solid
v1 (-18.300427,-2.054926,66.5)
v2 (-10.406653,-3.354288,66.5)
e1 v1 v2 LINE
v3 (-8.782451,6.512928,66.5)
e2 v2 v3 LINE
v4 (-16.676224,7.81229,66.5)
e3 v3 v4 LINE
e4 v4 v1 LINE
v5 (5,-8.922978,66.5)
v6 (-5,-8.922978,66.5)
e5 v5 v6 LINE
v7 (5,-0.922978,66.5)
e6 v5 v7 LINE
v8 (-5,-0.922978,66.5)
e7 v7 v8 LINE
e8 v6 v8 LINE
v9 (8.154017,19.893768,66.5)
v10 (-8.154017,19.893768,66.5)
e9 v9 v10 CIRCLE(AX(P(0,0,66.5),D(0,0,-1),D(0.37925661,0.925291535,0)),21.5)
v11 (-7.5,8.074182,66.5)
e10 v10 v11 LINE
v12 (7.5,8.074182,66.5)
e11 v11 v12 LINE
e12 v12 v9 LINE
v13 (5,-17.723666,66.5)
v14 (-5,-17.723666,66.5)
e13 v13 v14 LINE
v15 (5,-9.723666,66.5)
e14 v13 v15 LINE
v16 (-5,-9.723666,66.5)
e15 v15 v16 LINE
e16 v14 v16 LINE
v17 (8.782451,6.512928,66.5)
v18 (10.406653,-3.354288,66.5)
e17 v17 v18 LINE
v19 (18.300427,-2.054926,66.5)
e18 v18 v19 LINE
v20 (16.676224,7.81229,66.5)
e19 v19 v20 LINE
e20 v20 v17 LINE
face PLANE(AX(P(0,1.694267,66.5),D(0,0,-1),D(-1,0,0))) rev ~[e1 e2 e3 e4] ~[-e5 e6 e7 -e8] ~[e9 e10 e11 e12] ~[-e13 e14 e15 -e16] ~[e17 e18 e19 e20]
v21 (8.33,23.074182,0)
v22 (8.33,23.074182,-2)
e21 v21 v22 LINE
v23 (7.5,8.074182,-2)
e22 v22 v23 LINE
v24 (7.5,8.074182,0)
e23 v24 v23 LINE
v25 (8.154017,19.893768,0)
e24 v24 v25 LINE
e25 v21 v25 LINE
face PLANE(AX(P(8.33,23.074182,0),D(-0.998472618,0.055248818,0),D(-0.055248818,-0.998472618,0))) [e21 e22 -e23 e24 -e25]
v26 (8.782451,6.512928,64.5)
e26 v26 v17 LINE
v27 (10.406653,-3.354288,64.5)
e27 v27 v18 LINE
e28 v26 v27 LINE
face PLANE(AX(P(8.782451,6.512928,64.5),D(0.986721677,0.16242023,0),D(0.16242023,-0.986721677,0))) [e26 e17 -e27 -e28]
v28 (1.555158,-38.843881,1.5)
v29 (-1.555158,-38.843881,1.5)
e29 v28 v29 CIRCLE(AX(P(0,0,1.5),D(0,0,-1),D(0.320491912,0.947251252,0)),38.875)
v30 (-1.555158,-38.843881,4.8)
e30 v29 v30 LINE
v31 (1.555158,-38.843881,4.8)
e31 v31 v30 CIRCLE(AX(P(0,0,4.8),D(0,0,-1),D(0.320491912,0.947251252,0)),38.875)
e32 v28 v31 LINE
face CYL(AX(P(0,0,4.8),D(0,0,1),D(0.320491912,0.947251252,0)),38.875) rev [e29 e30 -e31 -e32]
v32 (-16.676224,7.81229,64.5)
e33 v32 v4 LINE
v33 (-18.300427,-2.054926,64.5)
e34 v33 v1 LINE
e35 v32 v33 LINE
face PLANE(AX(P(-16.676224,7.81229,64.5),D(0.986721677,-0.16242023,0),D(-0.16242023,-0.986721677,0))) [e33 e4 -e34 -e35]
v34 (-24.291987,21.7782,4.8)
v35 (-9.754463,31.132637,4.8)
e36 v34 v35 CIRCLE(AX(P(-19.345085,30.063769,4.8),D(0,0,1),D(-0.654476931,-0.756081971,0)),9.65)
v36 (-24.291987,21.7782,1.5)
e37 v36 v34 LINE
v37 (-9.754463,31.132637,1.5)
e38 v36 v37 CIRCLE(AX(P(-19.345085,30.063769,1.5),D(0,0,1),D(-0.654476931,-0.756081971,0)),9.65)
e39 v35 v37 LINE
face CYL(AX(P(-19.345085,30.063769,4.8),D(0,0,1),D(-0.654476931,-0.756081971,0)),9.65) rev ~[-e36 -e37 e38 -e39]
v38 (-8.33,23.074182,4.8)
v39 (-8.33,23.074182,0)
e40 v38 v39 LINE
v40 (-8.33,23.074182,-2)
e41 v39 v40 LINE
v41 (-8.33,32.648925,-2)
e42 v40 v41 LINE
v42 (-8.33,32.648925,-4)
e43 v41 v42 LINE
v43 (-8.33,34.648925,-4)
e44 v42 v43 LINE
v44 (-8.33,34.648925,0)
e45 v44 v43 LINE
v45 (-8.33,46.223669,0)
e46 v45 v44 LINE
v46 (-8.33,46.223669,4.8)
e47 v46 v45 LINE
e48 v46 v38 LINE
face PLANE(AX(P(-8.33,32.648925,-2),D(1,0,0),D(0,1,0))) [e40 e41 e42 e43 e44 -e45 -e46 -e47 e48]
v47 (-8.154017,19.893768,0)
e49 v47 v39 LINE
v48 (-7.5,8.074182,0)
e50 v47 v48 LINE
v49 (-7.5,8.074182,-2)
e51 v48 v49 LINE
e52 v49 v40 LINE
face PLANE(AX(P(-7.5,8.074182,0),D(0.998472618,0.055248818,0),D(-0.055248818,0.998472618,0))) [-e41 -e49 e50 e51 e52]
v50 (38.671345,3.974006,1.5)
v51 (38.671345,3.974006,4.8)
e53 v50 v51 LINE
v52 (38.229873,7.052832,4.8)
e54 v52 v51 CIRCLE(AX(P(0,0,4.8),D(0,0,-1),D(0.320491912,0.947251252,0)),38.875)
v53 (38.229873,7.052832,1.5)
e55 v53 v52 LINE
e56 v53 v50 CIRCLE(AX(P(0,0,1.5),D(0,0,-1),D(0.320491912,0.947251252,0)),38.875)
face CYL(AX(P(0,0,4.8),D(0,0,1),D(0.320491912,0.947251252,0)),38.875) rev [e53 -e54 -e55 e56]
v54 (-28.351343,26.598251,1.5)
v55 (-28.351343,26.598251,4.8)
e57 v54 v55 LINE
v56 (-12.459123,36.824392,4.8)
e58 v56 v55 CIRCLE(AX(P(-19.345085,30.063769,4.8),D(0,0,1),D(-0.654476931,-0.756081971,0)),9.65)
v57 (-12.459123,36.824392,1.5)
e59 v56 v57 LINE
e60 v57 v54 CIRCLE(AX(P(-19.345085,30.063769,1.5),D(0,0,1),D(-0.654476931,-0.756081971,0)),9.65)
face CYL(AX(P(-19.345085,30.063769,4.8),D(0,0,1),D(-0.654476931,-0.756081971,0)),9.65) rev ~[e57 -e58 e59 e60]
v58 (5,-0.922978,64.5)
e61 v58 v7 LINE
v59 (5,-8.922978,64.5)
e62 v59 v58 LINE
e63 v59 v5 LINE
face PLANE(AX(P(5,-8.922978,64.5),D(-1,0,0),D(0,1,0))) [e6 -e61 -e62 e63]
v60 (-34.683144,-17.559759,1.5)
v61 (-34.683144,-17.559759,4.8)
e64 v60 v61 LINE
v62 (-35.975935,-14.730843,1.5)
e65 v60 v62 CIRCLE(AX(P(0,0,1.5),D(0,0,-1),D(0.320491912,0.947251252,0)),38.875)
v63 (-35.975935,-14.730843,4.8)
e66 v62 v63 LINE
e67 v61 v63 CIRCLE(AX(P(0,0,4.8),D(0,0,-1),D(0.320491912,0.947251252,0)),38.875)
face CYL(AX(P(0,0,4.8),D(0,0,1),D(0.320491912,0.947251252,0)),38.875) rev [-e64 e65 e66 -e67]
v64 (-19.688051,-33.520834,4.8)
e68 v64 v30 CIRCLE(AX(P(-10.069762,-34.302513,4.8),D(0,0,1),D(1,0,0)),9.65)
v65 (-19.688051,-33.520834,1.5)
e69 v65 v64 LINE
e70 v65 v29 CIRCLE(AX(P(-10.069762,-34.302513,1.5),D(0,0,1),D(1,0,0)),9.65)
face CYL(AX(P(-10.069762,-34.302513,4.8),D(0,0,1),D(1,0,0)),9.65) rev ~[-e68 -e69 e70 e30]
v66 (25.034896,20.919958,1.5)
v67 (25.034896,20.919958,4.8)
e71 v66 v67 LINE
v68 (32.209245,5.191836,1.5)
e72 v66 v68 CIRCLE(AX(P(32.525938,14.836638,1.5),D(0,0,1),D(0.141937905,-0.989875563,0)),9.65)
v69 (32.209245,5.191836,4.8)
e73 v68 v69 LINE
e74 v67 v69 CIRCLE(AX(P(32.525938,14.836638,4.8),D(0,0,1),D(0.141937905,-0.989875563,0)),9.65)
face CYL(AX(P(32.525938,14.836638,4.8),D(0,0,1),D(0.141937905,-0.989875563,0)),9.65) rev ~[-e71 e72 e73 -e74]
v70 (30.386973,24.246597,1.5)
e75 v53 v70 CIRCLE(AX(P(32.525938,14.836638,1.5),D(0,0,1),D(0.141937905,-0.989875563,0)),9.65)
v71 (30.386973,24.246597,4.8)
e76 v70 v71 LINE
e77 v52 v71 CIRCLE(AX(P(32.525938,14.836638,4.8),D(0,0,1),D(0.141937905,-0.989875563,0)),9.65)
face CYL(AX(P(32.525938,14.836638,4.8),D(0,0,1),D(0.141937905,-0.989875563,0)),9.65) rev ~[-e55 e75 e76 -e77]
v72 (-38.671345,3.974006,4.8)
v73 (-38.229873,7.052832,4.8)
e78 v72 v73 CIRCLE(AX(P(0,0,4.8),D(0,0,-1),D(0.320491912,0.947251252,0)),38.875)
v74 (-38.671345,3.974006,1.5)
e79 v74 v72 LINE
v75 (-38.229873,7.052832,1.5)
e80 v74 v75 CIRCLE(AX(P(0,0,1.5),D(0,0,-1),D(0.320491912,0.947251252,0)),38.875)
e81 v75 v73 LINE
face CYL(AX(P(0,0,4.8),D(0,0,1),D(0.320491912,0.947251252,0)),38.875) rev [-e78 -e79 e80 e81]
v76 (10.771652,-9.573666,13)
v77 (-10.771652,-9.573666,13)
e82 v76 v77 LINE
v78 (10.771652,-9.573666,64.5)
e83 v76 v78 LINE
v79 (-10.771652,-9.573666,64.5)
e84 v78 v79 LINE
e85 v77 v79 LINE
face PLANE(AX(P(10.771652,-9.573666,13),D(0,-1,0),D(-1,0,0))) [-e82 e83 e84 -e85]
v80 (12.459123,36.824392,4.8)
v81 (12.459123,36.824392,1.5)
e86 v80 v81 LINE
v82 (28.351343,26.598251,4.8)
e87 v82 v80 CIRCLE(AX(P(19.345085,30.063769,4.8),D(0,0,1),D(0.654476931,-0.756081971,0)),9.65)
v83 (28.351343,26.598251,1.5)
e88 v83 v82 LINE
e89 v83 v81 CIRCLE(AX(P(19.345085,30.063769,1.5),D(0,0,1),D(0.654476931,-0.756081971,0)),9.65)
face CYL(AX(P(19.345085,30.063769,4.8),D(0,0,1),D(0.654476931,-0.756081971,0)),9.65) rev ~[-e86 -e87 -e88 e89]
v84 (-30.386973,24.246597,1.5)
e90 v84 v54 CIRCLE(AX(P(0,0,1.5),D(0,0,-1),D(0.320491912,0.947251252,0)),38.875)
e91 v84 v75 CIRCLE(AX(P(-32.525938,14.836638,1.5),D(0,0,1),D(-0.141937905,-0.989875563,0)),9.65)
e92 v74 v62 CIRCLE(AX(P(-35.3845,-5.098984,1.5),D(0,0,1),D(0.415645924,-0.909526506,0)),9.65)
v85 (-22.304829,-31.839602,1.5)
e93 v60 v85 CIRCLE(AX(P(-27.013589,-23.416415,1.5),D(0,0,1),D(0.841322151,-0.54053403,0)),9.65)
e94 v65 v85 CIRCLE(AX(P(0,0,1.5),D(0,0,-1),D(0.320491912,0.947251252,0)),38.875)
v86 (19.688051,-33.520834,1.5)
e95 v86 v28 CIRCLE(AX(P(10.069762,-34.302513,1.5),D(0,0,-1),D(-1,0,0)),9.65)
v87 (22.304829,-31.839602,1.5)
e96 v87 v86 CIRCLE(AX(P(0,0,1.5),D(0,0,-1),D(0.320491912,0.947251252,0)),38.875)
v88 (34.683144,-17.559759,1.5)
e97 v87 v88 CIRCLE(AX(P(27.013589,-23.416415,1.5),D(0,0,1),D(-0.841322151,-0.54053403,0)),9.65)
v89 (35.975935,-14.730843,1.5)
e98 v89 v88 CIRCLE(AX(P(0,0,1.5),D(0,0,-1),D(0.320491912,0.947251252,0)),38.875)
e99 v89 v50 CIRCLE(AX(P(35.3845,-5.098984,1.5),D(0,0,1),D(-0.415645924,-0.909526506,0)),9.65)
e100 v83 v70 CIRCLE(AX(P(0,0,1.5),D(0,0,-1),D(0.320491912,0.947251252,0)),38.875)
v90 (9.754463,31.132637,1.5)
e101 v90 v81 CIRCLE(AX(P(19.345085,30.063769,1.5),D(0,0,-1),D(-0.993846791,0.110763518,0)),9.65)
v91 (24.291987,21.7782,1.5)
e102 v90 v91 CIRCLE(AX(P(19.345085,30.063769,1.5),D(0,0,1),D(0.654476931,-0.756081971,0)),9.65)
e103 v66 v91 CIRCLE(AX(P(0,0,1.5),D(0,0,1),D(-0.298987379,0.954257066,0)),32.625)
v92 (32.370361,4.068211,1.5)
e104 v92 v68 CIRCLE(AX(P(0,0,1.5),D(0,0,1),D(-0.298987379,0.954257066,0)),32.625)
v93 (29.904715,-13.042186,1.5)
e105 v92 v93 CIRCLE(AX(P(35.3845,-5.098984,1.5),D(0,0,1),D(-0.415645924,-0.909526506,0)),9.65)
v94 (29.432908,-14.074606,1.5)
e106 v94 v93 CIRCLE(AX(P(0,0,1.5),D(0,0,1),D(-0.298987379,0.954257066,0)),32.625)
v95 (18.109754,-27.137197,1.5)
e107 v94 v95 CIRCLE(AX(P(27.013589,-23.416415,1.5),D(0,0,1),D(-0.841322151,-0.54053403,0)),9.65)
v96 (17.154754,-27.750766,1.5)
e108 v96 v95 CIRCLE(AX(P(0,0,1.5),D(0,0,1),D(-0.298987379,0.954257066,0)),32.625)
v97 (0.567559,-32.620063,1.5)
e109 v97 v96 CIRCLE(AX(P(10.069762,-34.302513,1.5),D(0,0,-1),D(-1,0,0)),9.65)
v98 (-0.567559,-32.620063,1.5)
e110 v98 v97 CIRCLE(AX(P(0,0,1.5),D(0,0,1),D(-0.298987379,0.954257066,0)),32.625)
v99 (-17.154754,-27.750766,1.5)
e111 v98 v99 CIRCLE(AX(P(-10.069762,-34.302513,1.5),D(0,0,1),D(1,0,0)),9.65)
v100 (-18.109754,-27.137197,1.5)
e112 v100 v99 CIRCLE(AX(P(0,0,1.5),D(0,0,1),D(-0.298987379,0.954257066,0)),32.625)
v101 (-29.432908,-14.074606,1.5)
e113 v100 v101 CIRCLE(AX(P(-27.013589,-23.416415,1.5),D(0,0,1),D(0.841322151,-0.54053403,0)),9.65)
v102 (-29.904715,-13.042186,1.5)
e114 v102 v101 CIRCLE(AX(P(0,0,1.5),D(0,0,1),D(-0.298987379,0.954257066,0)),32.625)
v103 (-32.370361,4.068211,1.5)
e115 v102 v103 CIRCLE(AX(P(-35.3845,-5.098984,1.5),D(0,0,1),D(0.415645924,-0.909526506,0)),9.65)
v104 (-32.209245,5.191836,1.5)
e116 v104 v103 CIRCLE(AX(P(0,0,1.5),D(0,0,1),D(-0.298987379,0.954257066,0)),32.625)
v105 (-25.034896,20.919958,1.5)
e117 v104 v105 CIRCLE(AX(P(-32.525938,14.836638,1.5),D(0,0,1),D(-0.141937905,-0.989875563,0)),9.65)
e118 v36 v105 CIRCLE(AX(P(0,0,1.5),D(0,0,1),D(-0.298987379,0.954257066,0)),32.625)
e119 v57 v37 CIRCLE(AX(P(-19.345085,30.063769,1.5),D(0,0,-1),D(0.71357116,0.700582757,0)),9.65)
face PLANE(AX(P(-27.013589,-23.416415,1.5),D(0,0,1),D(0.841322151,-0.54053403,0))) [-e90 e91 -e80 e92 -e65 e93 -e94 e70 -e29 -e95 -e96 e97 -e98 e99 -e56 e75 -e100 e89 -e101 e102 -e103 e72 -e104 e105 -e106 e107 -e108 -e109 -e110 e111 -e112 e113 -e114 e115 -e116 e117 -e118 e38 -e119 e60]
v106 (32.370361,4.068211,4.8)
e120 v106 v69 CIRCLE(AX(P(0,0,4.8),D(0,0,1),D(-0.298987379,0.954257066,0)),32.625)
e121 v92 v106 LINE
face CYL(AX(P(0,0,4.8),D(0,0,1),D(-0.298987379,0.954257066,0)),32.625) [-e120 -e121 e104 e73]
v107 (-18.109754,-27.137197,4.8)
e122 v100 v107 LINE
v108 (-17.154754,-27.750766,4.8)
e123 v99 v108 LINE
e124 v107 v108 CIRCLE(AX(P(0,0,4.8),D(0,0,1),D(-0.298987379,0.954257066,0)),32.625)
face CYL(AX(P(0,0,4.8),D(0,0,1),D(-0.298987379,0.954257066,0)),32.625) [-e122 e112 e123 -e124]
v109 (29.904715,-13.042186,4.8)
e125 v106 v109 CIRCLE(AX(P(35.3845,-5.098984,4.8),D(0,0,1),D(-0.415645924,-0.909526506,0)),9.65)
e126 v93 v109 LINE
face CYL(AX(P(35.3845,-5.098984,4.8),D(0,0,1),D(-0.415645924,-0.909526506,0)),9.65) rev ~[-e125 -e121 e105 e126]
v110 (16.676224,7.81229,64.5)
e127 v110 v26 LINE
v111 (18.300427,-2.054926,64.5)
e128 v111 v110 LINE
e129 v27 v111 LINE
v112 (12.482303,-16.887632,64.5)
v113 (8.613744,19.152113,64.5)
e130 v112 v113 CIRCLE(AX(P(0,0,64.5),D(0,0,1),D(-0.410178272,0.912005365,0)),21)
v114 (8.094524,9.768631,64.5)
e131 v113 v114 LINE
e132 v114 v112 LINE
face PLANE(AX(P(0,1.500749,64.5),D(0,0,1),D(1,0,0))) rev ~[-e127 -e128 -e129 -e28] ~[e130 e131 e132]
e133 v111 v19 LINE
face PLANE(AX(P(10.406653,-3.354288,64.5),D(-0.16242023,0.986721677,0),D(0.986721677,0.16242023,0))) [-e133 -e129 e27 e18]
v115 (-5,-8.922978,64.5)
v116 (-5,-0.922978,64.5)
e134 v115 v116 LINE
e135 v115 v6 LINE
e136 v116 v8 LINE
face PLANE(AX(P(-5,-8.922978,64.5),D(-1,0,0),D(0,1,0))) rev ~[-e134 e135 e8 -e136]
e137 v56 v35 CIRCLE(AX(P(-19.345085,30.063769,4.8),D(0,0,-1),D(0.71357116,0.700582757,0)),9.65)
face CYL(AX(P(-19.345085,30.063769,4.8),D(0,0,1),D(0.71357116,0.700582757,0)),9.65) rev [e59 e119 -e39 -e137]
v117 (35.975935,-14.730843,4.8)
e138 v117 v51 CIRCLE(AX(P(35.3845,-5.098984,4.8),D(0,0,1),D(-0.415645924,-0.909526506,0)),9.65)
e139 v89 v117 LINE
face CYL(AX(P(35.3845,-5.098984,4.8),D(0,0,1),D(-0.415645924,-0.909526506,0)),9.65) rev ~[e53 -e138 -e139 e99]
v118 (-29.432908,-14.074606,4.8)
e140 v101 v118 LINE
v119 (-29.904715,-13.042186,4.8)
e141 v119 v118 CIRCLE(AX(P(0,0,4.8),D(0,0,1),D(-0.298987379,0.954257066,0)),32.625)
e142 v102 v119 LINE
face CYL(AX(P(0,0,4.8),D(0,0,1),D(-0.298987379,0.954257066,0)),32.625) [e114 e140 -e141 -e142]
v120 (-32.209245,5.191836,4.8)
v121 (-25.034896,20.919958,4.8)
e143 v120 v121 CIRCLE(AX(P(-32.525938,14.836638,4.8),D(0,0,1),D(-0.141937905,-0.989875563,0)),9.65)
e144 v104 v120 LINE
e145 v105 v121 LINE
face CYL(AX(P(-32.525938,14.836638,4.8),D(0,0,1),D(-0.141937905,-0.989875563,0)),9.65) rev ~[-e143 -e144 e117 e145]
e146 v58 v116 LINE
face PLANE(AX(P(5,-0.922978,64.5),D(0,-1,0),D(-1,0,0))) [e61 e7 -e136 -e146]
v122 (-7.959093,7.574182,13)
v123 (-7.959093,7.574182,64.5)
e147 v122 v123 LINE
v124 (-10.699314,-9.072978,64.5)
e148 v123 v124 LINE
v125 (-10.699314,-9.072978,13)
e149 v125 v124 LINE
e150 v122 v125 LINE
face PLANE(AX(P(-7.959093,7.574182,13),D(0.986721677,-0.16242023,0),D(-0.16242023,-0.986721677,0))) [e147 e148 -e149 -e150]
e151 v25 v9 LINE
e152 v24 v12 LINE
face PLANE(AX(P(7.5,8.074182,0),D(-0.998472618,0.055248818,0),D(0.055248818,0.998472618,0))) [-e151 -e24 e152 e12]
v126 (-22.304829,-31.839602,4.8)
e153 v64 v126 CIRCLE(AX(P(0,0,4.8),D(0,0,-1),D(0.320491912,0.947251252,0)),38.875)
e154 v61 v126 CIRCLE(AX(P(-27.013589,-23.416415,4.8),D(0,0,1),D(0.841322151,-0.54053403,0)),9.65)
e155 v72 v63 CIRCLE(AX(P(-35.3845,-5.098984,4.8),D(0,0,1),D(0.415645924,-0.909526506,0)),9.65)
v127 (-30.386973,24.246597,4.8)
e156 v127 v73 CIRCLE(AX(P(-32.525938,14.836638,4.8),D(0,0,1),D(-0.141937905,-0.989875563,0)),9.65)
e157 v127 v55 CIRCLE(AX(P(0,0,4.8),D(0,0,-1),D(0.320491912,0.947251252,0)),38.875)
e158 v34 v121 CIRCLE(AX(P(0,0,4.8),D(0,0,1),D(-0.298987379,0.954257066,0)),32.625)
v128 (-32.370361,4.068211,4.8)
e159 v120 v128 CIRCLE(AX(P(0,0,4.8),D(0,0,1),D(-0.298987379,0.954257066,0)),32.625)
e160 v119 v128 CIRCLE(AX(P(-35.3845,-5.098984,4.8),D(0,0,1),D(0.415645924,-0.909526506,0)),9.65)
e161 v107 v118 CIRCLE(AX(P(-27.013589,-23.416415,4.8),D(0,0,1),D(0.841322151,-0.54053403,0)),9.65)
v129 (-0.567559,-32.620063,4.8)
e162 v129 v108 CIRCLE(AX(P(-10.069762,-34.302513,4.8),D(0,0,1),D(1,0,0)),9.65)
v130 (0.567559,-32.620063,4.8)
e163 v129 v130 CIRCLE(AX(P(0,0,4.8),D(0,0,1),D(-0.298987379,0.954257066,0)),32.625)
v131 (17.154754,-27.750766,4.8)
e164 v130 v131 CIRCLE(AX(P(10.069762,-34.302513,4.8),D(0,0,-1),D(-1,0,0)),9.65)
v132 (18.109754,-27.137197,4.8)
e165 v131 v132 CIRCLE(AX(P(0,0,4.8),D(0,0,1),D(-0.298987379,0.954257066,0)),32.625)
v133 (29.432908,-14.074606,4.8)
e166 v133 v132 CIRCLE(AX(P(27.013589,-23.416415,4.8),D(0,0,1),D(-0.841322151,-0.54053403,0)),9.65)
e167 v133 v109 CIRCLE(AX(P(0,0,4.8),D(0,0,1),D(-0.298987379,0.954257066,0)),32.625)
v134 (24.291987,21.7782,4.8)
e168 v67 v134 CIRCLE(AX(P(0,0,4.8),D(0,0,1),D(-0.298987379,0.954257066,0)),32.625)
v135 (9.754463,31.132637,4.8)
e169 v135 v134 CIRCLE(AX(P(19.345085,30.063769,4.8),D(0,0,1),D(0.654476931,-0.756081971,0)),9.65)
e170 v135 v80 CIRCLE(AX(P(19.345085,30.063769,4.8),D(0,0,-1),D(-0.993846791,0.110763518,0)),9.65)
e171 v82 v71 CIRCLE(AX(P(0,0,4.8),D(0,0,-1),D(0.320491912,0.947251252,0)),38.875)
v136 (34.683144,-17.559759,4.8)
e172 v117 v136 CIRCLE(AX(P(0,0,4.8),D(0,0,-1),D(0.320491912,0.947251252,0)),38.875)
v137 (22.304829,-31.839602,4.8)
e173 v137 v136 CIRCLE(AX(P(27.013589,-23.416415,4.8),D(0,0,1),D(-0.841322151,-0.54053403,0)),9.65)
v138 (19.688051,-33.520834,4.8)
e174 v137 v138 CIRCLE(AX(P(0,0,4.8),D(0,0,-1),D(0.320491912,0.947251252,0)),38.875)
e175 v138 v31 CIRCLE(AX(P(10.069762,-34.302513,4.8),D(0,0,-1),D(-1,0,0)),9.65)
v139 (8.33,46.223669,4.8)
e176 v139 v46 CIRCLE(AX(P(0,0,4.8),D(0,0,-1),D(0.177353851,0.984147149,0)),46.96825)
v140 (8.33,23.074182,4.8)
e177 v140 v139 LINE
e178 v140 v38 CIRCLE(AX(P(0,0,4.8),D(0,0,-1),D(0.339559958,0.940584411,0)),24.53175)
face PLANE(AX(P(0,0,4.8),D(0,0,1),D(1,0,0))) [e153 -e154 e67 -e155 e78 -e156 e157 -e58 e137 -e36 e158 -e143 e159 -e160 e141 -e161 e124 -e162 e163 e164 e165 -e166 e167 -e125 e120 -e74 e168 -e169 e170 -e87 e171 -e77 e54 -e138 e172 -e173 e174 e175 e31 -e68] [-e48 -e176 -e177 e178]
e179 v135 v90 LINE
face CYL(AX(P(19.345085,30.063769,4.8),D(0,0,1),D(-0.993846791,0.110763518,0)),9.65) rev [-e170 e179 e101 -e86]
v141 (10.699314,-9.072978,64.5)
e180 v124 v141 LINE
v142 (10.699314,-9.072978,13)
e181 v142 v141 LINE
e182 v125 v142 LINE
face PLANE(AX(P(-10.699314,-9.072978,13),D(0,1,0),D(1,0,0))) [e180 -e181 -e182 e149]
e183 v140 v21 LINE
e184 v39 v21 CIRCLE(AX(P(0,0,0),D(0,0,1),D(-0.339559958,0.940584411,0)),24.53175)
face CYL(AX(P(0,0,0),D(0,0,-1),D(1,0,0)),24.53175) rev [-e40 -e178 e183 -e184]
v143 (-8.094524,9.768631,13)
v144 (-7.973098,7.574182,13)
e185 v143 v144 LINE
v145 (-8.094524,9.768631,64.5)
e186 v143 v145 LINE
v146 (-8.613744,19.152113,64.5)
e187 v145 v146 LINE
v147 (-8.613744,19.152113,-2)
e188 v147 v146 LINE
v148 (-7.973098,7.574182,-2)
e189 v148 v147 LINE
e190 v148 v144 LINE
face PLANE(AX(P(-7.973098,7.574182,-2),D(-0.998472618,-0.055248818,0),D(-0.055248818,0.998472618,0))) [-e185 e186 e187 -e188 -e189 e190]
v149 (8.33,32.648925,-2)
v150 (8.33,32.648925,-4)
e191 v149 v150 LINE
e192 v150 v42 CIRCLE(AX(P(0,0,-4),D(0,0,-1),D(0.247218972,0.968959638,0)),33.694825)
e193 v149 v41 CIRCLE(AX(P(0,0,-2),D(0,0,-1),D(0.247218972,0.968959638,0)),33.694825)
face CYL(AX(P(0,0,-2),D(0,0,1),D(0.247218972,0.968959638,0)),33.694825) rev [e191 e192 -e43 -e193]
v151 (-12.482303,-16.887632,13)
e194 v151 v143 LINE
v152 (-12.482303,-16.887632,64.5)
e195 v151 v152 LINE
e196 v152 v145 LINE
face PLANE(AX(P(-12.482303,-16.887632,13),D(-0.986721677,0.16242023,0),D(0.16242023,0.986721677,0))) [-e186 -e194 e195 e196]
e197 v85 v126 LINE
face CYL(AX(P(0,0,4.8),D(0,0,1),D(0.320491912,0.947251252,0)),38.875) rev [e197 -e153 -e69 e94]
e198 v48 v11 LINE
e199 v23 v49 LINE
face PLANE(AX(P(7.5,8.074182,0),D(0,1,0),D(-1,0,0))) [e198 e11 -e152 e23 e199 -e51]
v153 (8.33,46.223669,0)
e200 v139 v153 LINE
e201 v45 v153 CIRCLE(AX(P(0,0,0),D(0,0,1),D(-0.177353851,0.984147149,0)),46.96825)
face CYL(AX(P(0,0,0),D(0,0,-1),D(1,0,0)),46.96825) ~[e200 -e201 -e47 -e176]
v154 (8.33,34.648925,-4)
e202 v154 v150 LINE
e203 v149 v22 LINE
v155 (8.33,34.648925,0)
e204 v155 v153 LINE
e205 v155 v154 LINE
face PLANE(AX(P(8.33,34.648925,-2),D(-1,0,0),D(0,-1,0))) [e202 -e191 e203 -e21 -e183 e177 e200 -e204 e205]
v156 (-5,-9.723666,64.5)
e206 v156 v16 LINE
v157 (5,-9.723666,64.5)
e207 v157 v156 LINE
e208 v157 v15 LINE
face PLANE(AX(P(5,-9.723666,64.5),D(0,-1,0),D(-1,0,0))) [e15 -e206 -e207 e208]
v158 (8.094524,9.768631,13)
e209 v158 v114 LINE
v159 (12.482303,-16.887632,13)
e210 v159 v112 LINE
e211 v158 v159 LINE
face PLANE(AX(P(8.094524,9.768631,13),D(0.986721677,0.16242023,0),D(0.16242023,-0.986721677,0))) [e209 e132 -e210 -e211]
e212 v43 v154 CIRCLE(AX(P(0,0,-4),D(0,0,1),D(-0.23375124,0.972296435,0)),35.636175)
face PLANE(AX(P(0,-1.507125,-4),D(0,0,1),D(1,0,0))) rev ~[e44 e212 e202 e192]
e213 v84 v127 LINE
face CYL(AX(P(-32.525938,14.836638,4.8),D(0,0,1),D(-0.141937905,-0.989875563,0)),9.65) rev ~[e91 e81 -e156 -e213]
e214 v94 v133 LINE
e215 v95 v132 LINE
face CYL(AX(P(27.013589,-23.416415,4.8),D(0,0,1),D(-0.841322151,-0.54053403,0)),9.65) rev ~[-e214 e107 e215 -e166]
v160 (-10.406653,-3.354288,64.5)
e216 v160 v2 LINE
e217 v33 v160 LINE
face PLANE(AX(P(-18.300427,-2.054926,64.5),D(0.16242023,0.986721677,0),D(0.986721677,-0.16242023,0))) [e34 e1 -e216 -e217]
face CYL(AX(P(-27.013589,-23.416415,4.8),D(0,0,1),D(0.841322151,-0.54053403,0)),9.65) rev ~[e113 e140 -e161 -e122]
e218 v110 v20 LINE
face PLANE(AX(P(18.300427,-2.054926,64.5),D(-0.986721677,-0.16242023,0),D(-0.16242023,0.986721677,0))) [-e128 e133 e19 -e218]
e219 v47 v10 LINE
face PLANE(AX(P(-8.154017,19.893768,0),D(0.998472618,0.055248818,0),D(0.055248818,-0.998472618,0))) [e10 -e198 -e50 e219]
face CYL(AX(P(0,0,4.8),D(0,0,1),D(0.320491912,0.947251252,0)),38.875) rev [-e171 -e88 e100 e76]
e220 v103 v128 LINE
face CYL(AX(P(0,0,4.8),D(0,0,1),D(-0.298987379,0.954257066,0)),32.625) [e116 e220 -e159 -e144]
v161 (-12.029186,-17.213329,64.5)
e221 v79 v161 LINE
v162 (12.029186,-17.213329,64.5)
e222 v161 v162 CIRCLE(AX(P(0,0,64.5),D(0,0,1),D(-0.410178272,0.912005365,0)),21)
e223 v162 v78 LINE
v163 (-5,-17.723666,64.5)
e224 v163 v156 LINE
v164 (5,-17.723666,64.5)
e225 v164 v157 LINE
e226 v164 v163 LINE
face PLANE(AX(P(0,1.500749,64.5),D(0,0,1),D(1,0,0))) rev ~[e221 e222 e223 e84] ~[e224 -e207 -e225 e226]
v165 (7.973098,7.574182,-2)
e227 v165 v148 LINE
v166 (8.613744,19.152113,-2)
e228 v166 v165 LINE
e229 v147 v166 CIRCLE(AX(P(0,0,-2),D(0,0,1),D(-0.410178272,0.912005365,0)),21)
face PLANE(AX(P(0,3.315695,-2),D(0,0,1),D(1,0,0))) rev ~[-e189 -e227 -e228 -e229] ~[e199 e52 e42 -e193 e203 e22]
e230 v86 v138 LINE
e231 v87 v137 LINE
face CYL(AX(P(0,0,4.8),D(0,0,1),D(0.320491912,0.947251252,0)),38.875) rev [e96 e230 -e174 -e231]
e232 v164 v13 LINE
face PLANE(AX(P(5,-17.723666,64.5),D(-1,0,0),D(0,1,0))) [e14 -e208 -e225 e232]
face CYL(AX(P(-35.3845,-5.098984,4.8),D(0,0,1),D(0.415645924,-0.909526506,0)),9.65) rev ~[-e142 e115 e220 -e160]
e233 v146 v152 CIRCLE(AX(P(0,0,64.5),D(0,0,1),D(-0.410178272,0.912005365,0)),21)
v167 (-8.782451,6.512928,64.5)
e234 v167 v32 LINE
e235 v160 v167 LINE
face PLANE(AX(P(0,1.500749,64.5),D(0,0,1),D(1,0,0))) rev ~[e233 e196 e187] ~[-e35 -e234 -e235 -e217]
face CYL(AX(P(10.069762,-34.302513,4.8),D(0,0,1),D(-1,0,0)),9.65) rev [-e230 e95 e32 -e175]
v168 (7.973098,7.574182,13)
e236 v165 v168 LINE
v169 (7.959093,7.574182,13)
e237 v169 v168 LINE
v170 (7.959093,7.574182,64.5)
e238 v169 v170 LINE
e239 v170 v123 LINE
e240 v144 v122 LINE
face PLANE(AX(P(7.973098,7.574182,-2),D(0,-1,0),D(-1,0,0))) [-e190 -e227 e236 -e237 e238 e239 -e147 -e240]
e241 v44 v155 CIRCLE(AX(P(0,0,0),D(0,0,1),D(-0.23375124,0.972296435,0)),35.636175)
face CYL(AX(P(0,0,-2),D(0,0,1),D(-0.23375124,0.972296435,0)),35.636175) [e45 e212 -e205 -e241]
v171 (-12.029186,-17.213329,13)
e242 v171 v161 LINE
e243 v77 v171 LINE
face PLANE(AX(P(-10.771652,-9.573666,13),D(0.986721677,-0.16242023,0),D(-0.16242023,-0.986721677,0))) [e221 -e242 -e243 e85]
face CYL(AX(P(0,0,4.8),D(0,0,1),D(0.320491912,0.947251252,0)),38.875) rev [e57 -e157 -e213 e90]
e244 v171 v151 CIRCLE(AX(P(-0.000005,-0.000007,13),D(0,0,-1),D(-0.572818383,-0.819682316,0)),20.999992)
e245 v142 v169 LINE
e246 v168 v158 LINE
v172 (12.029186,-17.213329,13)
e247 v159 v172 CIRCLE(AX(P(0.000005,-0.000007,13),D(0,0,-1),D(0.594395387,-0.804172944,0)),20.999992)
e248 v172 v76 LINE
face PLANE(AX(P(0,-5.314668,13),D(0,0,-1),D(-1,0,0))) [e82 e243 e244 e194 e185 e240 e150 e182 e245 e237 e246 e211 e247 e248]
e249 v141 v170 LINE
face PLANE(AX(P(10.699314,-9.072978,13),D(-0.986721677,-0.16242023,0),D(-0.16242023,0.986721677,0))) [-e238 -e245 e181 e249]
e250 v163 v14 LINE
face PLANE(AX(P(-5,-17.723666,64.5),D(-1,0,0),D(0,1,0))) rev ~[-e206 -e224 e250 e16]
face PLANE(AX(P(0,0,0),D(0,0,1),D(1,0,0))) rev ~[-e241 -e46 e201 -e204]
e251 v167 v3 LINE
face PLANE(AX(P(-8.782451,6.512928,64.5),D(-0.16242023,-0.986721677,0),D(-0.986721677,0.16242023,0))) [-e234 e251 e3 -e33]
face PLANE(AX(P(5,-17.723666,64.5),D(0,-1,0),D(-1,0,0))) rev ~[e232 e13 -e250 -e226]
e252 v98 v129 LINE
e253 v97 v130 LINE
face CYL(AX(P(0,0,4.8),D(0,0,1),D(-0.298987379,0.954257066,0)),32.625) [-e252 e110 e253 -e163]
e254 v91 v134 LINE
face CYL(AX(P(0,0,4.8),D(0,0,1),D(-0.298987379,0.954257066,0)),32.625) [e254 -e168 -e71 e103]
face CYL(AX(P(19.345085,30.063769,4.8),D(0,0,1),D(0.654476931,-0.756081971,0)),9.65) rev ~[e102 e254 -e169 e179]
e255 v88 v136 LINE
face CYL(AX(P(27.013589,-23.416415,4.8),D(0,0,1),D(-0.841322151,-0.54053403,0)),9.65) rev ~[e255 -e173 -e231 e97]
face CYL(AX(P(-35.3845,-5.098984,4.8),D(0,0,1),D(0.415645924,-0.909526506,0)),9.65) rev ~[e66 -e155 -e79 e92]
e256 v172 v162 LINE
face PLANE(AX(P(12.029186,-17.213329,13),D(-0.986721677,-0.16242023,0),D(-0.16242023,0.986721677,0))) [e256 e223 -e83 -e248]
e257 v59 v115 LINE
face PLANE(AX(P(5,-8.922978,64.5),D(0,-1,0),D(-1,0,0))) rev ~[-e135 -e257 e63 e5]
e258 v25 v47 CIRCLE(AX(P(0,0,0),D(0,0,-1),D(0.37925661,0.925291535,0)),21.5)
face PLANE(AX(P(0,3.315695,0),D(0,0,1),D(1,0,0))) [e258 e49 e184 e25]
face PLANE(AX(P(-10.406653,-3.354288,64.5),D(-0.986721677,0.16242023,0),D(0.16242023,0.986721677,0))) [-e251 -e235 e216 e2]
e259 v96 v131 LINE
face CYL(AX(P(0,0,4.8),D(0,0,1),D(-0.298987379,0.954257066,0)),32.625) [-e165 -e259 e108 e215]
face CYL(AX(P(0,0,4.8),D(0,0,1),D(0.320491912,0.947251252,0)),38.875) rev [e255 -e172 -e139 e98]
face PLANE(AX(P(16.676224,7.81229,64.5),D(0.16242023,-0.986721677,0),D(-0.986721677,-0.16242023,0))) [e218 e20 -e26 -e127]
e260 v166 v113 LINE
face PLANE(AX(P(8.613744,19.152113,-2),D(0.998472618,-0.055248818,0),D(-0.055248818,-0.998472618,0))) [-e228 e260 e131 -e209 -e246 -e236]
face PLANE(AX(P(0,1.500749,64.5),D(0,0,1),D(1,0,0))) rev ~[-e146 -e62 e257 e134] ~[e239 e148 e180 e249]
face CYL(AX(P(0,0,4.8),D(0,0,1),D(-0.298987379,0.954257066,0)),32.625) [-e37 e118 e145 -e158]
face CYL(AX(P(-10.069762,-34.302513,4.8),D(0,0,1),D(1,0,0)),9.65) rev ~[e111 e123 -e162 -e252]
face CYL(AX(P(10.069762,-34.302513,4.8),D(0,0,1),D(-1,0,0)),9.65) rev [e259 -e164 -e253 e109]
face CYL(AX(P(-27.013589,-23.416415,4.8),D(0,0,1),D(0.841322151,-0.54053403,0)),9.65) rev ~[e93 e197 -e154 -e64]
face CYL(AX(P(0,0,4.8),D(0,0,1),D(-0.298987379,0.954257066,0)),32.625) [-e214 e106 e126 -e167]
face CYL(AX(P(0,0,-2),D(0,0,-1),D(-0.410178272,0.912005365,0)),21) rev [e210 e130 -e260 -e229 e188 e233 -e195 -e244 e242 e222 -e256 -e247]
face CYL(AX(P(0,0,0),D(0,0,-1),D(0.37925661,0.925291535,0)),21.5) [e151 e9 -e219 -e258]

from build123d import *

# Parameters (mm, degrees)
BASIC_SHAPE_SKETCH_R                = 46.96825
BASIC_SHAPE_SKETCH_R_2              = 24.53175
BASIC_SHAPE_DEPTH                   = 4.8
BATTERY_SLOT_SKETCH_R               = 9.65
BATTERY_SLOT_DEPTH                  = 3.3
BATTERY_SLOT_PATTERN_COUNT          = 5
BATTERY_SLOT_PATTERN_ANGLE          = 130.88
BATTERY_SLOT_MIRROR_COPY_1_SKETCH_R = 9.65
BATTERY_SLOT_MIRROR_COPY_1_DEPTH    = 3.3
BATTERY_SLOT_MIRROR_COPY_2_SKETCH_R = 9.65
BATTERY_SLOT_MIRROR_COPY_2_DEPTH    = 3.3
BATTERY_SLOT_MIRROR_COPY_3_SKETCH_R = 9.65
BATTERY_SLOT_MIRROR_COPY_3_DEPTH    = 3.3
BATTERY_SLOT_MIRROR_COPY_4_SKETCH_R = 9.65
BATTERY_SLOT_MIRROR_COPY_4_DEPTH    = 3.3
SLIT_DEPTH                          = 67.596343865
BUS_SLIT_DEPTH                      = 3.3
CAP_2_DEPTH                         = 2
PLUNGER_DEPTH                       = 66.5
PLUNGER_CAVITY_DEPTH                = 66.5
LIP_DEPTH                           = 2
EXTRA_CUT_DEPTH                     = 94.990866663
BARRIERS_DEPTH                      = 51.5
SKETCH15_W                          = 10
SKETCH15_H                          = 8
CUT_EXTRUDE6_DEPTH                  = 96.416366605


with BuildPart() as part:
    # Basic_Shape_Sketch → Basic_Shape (new body)
    with BuildSketch(Plane.XY):
        Circle(BASIC_SHAPE_SKETCH_R)
        Circle(BASIC_SHAPE_SKETCH_R_2, mode=Mode.SUBTRACT)
    extrude(amount=BASIC_SHAPE_DEPTH)

    # Battery_Slot_Sketch → Battery_Slot (cut)
    with BuildSketch(Plane.XY.offset(4.8)):
        with Locations((-10.069761866, -34.302512969)):
            Circle(BATTERY_SLOT_SKETCH_R)
    battery_slot = extrude(amount=-BATTERY_SLOT_DEPTH, mode=Mode.SUBTRACT)

    # Battery_Slot_Pattern: Battery_Slot ×5 about axis
    battery_slot_pattern_axis = Axis((0, 0, 0), (0, 0, -1))
    for i in range(1, BATTERY_SLOT_PATTERN_COUNT):
        add(battery_slot.rotate(battery_slot_pattern_axis, i * BATTERY_SLOT_PATTERN_ANGLE / (BATTERY_SLOT_PATTERN_COUNT - 1)), mode=Mode.SUBTRACT)

    # Battery_Slot_Mirror: Battery_Slot across plane
    add(battery_slot.mirror(Plane(origin=(0, 0, 0), x_dir=(0, 0, 1), z_dir=(1, 0, 0))), mode=Mode.SUBTRACT)

    # Battery_Slot_Mirror copy 1 sketch → Battery_Slot_Mirror copy 1 (cut)
    with BuildSketch(Plane(origin=(0, 0, 4.8), x_dir=(-0.8413221512344797, -0.5405340302350882, 0), z_dir=(0, 0, 1))):
        with Locations((-10.069761866, 34.302512969)):
            Circle(BATTERY_SLOT_MIRROR_COPY_1_SKETCH_R)
    extrude(amount=-BATTERY_SLOT_MIRROR_COPY_1_DEPTH, mode=Mode.SUBTRACT)

    # Battery_Slot_Mirror copy 2 sketch → Battery_Slot_Mirror copy 2 (cut)
    with BuildSketch(Plane(origin=(0, 0, 4.8), x_dir=(-0.4156459243156256, -0.9095265062656553, 0), z_dir=(0, 0, 1))):
        with Locations((-10.069761866, 34.302512969)):
            Circle(BATTERY_SLOT_MIRROR_COPY_2_SKETCH_R)
    extrude(amount=-BATTERY_SLOT_MIRROR_COPY_2_DEPTH, mode=Mode.SUBTRACT)

    # Battery_Slot_Mirror copy 3 sketch → Battery_Slot_Mirror copy 3 (cut)
    with BuildSketch(Plane(origin=(0, 0, 4.8), x_dir=(0.14193790484034807, -0.9898755634773152, 0), z_dir=(0, 0, 1))):
        with Locations((-10.069761866, 34.302512969)):
            Circle(BATTERY_SLOT_MIRROR_COPY_3_SKETCH_R)
    extrude(amount=-BATTERY_SLOT_MIRROR_COPY_3_DEPTH, mode=Mode.SUBTRACT)

    # Battery_Slot_Mirror copy 4 sketch → Battery_Slot_Mirror copy 4 (cut)
    with BuildSketch(Plane(origin=(0, 0, 4.8), x_dir=(0.6544769311996185, -0.7560819707726999, 0), z_dir=(0, 0, 1))):
        with Locations((-10.069761866, 34.302512969)):
            Circle(BATTERY_SLOT_MIRROR_COPY_4_SKETCH_R)
    extrude(amount=-BATTERY_SLOT_MIRROR_COPY_4_DEPTH, mode=Mode.SUBTRACT)

    # Slit_Sketch → Slit (cut, through all)
    with BuildSketch(Plane.XY.offset(4.8)):
        with BuildLine():
            Line((-8.33, 46.223669349), (-8.33, 23.074181634))
            Line((-8.33, 23.074181634), (8.33, 23.074181634))
            Line((8.33, 23.074181634), (8.33, 46.223669349))
            ThreePointArc((8.33, 46.223669349), (0, 54.553669349), (-8.33, 46.223669349))
        make_face()
    extrude(amount=-SLIT_DEPTH, mode=Mode.SUBTRACT)

    # Bus_Slit_Sketch → Bus_Slit (cut)
    with BuildSketch(Plane.XY.offset(4.8)):
        with BuildLine():
            ThreePointArc((-9.754463235, 31.132636766), (0, -32.625), (9.754463235, 31.132636766))
            ThreePointArc((9.754463235, 31.132636766), (10.629095474, 34.20551129), (12.459123069, 36.824392423))
            ThreePointArc((12.459123069, 36.824392423), (0, -38.875), (-12.459123069, 36.824392423))
            ThreePointArc((-12.459123069, 36.824392423), (-10.629095474, 34.20551129), (-9.754463235, 31.132636766))
        make_face()
    extrude(amount=-BUS_SLIT_DEPTH, mode=Mode.SUBTRACT)

    # Cap_2_Sketch → Cap_2 (add)
    with BuildSketch(Plane(origin=(0, 0, 0), x_dir=(-1, 0, 0), z_dir=(0, 0, -1))):
        with BuildLine():
            Line((-8.33, 34.648925491), (-8.33, 23.074181634))
            Line((-8.33, 23.074181634), (8.33, 23.074181634))
            Line((8.33, 23.074181634), (8.33, 34.648925491))
            ThreePointArc((8.33, 34.648925491), (0, -35.636174566), (-8.33, 34.648925491))
        make_face()
    extrude(amount=CAP_2_DEPTH)

    # Sketch1 → Plunger (add)
    with BuildSketch(Plane.XY):
        with BuildLine():
            Line((-7.5, 8.074181634), (7.5, 8.074181634))
            Line((7.5, 8.074181634), (8.154017112, 19.893767993))
            ThreePointArc((8.154017112, 19.893767993), (0, -21.5), (-8.154017112, 19.893767993))
            Line((-8.154017112, 19.893767993), (-7.5, 8.074181634))
        make_face()
    extrude(amount=PLUNGER_DEPTH)

    # Sketch11 → Plunger Cavity (cut)
    with BuildSketch(Plane(origin=(0, 0, -2), x_dir=(-1, 0, 0), z_dir=(0, 0, -1))):
        with BuildLine():
            Line((-8.61374371, 19.152112659), (-7.973098193, 7.574181634))
            Line((-7.973098193, 7.574181634), (7.973098193, 7.574181634))
            Line((7.973098193, 7.574181634), (8.61374371, 19.152112659))
            ThreePointArc((8.61374371, 19.152112659), (0, -21), (-8.61374371, 19.152112659))
        make_face()
    extrude(amount=-PLUNGER_CAVITY_DEPTH, mode=Mode.SUBTRACT)

    # Sketch10 → Lip (add)
    with BuildSketch(Plane(origin=(0, 0, -2), x_dir=(-1, 0, 0), z_dir=(0, 0, -1))):
        with BuildLine():
            Line((-8.33, 34.648925491), (-8.33, 32.648925491))
            ThreePointArc((-8.33, 32.648925491), (0, -33.694825059), (8.33, 32.648925491))
            Line((8.33, 32.648925491), (8.33, 34.648925491))
            ThreePointArc((8.33, 34.648925491), (0, -35.636174566), (-8.33, 34.648925491))
        make_face()
    extrude(amount=LIP_DEPTH)

    # Sketch12 → Extra_Cut (cut, through all)
    with BuildSketch(Plane.XY):
        Polygon((-7.5, 8.074181634), (-8.33, 23.074181634), (8.33, 23.074181634), (7.5, 8.074181634), align=None)
    extrude(amount=-EXTRA_CUT_DEPTH, mode=Mode.SUBTRACT)

    # Sketch14 → Barriers (add)
    with BuildSketch(Plane(origin=(0, 0, 13), x_dir=(-1, 0, 0), z_dir=(0, 0, -1))):
        with BuildLine():
            Line((-8.094524385, 9.768630899), (-12.482303066, -16.88763187))
            ThreePointArc((-12.482303066, -16.88763187), (-12.256826493, -17.051985349), (-12.029186165, -17.213328562))
            Line((-12.029186165, -17.213328562), (-10.771652468, -9.573665961))
            Line((-10.771652468, -9.573665961), (10.771652468, -9.573665961))
            Line((10.771652468, -9.573665961), (12.029186165, -17.213328562))
            ThreePointArc((12.029186165, -17.213328562), (12.256826493, -17.051985349), (12.482303066, -16.88763187))
            Line((12.482303066, -16.88763187), (8.094524385, 9.768630899))
            Line((8.094524385, 9.768630899), (7.959093124, 7.574181634))
            Line((7.959093124, 7.574181634), (10.699314208, -9.072978255))
            Line((10.699314208, -9.072978255), (-10.699314208, -9.072978255))
            Line((-10.699314208, -9.072978255), (-7.959093124, 7.574181634))
            Line((-7.959093124, 7.574181634), (-8.094524385, 9.768630899))
        make_face()
    extrude(amount=-BARRIERS_DEPTH)

    # Sketch15 → Cut-Extrude6 (cut, through all)
    with BuildSketch(Plane(origin=(0, 0, 64.5), x_dir=(-1, 0, 0), z_dir=(0, 0, -1))):
        Polygon((-16.676224256, 7.812290296), (-8.782450836, 6.512928453), (-10.40665314, -3.354288322), (-18.30042656, -2.054926479), align=None)
        Polygon((8.782450836, 6.512928453), (16.676224256, 7.812290296), (18.30042656, -2.054926479), (10.40665314, -3.354288322), align=None)
        with Locations((0, -4.922978255)):
            Rectangle(SKETCH15_W, SKETCH15_H)
        with Locations((0, -13.723665961)):
            Rectangle(SKETCH15_W, SKETCH15_H)
    extrude(amount=-CUT_EXTRUDE6_DEPTH, mode=Mode.SUBTRACT)


solid = part.part
